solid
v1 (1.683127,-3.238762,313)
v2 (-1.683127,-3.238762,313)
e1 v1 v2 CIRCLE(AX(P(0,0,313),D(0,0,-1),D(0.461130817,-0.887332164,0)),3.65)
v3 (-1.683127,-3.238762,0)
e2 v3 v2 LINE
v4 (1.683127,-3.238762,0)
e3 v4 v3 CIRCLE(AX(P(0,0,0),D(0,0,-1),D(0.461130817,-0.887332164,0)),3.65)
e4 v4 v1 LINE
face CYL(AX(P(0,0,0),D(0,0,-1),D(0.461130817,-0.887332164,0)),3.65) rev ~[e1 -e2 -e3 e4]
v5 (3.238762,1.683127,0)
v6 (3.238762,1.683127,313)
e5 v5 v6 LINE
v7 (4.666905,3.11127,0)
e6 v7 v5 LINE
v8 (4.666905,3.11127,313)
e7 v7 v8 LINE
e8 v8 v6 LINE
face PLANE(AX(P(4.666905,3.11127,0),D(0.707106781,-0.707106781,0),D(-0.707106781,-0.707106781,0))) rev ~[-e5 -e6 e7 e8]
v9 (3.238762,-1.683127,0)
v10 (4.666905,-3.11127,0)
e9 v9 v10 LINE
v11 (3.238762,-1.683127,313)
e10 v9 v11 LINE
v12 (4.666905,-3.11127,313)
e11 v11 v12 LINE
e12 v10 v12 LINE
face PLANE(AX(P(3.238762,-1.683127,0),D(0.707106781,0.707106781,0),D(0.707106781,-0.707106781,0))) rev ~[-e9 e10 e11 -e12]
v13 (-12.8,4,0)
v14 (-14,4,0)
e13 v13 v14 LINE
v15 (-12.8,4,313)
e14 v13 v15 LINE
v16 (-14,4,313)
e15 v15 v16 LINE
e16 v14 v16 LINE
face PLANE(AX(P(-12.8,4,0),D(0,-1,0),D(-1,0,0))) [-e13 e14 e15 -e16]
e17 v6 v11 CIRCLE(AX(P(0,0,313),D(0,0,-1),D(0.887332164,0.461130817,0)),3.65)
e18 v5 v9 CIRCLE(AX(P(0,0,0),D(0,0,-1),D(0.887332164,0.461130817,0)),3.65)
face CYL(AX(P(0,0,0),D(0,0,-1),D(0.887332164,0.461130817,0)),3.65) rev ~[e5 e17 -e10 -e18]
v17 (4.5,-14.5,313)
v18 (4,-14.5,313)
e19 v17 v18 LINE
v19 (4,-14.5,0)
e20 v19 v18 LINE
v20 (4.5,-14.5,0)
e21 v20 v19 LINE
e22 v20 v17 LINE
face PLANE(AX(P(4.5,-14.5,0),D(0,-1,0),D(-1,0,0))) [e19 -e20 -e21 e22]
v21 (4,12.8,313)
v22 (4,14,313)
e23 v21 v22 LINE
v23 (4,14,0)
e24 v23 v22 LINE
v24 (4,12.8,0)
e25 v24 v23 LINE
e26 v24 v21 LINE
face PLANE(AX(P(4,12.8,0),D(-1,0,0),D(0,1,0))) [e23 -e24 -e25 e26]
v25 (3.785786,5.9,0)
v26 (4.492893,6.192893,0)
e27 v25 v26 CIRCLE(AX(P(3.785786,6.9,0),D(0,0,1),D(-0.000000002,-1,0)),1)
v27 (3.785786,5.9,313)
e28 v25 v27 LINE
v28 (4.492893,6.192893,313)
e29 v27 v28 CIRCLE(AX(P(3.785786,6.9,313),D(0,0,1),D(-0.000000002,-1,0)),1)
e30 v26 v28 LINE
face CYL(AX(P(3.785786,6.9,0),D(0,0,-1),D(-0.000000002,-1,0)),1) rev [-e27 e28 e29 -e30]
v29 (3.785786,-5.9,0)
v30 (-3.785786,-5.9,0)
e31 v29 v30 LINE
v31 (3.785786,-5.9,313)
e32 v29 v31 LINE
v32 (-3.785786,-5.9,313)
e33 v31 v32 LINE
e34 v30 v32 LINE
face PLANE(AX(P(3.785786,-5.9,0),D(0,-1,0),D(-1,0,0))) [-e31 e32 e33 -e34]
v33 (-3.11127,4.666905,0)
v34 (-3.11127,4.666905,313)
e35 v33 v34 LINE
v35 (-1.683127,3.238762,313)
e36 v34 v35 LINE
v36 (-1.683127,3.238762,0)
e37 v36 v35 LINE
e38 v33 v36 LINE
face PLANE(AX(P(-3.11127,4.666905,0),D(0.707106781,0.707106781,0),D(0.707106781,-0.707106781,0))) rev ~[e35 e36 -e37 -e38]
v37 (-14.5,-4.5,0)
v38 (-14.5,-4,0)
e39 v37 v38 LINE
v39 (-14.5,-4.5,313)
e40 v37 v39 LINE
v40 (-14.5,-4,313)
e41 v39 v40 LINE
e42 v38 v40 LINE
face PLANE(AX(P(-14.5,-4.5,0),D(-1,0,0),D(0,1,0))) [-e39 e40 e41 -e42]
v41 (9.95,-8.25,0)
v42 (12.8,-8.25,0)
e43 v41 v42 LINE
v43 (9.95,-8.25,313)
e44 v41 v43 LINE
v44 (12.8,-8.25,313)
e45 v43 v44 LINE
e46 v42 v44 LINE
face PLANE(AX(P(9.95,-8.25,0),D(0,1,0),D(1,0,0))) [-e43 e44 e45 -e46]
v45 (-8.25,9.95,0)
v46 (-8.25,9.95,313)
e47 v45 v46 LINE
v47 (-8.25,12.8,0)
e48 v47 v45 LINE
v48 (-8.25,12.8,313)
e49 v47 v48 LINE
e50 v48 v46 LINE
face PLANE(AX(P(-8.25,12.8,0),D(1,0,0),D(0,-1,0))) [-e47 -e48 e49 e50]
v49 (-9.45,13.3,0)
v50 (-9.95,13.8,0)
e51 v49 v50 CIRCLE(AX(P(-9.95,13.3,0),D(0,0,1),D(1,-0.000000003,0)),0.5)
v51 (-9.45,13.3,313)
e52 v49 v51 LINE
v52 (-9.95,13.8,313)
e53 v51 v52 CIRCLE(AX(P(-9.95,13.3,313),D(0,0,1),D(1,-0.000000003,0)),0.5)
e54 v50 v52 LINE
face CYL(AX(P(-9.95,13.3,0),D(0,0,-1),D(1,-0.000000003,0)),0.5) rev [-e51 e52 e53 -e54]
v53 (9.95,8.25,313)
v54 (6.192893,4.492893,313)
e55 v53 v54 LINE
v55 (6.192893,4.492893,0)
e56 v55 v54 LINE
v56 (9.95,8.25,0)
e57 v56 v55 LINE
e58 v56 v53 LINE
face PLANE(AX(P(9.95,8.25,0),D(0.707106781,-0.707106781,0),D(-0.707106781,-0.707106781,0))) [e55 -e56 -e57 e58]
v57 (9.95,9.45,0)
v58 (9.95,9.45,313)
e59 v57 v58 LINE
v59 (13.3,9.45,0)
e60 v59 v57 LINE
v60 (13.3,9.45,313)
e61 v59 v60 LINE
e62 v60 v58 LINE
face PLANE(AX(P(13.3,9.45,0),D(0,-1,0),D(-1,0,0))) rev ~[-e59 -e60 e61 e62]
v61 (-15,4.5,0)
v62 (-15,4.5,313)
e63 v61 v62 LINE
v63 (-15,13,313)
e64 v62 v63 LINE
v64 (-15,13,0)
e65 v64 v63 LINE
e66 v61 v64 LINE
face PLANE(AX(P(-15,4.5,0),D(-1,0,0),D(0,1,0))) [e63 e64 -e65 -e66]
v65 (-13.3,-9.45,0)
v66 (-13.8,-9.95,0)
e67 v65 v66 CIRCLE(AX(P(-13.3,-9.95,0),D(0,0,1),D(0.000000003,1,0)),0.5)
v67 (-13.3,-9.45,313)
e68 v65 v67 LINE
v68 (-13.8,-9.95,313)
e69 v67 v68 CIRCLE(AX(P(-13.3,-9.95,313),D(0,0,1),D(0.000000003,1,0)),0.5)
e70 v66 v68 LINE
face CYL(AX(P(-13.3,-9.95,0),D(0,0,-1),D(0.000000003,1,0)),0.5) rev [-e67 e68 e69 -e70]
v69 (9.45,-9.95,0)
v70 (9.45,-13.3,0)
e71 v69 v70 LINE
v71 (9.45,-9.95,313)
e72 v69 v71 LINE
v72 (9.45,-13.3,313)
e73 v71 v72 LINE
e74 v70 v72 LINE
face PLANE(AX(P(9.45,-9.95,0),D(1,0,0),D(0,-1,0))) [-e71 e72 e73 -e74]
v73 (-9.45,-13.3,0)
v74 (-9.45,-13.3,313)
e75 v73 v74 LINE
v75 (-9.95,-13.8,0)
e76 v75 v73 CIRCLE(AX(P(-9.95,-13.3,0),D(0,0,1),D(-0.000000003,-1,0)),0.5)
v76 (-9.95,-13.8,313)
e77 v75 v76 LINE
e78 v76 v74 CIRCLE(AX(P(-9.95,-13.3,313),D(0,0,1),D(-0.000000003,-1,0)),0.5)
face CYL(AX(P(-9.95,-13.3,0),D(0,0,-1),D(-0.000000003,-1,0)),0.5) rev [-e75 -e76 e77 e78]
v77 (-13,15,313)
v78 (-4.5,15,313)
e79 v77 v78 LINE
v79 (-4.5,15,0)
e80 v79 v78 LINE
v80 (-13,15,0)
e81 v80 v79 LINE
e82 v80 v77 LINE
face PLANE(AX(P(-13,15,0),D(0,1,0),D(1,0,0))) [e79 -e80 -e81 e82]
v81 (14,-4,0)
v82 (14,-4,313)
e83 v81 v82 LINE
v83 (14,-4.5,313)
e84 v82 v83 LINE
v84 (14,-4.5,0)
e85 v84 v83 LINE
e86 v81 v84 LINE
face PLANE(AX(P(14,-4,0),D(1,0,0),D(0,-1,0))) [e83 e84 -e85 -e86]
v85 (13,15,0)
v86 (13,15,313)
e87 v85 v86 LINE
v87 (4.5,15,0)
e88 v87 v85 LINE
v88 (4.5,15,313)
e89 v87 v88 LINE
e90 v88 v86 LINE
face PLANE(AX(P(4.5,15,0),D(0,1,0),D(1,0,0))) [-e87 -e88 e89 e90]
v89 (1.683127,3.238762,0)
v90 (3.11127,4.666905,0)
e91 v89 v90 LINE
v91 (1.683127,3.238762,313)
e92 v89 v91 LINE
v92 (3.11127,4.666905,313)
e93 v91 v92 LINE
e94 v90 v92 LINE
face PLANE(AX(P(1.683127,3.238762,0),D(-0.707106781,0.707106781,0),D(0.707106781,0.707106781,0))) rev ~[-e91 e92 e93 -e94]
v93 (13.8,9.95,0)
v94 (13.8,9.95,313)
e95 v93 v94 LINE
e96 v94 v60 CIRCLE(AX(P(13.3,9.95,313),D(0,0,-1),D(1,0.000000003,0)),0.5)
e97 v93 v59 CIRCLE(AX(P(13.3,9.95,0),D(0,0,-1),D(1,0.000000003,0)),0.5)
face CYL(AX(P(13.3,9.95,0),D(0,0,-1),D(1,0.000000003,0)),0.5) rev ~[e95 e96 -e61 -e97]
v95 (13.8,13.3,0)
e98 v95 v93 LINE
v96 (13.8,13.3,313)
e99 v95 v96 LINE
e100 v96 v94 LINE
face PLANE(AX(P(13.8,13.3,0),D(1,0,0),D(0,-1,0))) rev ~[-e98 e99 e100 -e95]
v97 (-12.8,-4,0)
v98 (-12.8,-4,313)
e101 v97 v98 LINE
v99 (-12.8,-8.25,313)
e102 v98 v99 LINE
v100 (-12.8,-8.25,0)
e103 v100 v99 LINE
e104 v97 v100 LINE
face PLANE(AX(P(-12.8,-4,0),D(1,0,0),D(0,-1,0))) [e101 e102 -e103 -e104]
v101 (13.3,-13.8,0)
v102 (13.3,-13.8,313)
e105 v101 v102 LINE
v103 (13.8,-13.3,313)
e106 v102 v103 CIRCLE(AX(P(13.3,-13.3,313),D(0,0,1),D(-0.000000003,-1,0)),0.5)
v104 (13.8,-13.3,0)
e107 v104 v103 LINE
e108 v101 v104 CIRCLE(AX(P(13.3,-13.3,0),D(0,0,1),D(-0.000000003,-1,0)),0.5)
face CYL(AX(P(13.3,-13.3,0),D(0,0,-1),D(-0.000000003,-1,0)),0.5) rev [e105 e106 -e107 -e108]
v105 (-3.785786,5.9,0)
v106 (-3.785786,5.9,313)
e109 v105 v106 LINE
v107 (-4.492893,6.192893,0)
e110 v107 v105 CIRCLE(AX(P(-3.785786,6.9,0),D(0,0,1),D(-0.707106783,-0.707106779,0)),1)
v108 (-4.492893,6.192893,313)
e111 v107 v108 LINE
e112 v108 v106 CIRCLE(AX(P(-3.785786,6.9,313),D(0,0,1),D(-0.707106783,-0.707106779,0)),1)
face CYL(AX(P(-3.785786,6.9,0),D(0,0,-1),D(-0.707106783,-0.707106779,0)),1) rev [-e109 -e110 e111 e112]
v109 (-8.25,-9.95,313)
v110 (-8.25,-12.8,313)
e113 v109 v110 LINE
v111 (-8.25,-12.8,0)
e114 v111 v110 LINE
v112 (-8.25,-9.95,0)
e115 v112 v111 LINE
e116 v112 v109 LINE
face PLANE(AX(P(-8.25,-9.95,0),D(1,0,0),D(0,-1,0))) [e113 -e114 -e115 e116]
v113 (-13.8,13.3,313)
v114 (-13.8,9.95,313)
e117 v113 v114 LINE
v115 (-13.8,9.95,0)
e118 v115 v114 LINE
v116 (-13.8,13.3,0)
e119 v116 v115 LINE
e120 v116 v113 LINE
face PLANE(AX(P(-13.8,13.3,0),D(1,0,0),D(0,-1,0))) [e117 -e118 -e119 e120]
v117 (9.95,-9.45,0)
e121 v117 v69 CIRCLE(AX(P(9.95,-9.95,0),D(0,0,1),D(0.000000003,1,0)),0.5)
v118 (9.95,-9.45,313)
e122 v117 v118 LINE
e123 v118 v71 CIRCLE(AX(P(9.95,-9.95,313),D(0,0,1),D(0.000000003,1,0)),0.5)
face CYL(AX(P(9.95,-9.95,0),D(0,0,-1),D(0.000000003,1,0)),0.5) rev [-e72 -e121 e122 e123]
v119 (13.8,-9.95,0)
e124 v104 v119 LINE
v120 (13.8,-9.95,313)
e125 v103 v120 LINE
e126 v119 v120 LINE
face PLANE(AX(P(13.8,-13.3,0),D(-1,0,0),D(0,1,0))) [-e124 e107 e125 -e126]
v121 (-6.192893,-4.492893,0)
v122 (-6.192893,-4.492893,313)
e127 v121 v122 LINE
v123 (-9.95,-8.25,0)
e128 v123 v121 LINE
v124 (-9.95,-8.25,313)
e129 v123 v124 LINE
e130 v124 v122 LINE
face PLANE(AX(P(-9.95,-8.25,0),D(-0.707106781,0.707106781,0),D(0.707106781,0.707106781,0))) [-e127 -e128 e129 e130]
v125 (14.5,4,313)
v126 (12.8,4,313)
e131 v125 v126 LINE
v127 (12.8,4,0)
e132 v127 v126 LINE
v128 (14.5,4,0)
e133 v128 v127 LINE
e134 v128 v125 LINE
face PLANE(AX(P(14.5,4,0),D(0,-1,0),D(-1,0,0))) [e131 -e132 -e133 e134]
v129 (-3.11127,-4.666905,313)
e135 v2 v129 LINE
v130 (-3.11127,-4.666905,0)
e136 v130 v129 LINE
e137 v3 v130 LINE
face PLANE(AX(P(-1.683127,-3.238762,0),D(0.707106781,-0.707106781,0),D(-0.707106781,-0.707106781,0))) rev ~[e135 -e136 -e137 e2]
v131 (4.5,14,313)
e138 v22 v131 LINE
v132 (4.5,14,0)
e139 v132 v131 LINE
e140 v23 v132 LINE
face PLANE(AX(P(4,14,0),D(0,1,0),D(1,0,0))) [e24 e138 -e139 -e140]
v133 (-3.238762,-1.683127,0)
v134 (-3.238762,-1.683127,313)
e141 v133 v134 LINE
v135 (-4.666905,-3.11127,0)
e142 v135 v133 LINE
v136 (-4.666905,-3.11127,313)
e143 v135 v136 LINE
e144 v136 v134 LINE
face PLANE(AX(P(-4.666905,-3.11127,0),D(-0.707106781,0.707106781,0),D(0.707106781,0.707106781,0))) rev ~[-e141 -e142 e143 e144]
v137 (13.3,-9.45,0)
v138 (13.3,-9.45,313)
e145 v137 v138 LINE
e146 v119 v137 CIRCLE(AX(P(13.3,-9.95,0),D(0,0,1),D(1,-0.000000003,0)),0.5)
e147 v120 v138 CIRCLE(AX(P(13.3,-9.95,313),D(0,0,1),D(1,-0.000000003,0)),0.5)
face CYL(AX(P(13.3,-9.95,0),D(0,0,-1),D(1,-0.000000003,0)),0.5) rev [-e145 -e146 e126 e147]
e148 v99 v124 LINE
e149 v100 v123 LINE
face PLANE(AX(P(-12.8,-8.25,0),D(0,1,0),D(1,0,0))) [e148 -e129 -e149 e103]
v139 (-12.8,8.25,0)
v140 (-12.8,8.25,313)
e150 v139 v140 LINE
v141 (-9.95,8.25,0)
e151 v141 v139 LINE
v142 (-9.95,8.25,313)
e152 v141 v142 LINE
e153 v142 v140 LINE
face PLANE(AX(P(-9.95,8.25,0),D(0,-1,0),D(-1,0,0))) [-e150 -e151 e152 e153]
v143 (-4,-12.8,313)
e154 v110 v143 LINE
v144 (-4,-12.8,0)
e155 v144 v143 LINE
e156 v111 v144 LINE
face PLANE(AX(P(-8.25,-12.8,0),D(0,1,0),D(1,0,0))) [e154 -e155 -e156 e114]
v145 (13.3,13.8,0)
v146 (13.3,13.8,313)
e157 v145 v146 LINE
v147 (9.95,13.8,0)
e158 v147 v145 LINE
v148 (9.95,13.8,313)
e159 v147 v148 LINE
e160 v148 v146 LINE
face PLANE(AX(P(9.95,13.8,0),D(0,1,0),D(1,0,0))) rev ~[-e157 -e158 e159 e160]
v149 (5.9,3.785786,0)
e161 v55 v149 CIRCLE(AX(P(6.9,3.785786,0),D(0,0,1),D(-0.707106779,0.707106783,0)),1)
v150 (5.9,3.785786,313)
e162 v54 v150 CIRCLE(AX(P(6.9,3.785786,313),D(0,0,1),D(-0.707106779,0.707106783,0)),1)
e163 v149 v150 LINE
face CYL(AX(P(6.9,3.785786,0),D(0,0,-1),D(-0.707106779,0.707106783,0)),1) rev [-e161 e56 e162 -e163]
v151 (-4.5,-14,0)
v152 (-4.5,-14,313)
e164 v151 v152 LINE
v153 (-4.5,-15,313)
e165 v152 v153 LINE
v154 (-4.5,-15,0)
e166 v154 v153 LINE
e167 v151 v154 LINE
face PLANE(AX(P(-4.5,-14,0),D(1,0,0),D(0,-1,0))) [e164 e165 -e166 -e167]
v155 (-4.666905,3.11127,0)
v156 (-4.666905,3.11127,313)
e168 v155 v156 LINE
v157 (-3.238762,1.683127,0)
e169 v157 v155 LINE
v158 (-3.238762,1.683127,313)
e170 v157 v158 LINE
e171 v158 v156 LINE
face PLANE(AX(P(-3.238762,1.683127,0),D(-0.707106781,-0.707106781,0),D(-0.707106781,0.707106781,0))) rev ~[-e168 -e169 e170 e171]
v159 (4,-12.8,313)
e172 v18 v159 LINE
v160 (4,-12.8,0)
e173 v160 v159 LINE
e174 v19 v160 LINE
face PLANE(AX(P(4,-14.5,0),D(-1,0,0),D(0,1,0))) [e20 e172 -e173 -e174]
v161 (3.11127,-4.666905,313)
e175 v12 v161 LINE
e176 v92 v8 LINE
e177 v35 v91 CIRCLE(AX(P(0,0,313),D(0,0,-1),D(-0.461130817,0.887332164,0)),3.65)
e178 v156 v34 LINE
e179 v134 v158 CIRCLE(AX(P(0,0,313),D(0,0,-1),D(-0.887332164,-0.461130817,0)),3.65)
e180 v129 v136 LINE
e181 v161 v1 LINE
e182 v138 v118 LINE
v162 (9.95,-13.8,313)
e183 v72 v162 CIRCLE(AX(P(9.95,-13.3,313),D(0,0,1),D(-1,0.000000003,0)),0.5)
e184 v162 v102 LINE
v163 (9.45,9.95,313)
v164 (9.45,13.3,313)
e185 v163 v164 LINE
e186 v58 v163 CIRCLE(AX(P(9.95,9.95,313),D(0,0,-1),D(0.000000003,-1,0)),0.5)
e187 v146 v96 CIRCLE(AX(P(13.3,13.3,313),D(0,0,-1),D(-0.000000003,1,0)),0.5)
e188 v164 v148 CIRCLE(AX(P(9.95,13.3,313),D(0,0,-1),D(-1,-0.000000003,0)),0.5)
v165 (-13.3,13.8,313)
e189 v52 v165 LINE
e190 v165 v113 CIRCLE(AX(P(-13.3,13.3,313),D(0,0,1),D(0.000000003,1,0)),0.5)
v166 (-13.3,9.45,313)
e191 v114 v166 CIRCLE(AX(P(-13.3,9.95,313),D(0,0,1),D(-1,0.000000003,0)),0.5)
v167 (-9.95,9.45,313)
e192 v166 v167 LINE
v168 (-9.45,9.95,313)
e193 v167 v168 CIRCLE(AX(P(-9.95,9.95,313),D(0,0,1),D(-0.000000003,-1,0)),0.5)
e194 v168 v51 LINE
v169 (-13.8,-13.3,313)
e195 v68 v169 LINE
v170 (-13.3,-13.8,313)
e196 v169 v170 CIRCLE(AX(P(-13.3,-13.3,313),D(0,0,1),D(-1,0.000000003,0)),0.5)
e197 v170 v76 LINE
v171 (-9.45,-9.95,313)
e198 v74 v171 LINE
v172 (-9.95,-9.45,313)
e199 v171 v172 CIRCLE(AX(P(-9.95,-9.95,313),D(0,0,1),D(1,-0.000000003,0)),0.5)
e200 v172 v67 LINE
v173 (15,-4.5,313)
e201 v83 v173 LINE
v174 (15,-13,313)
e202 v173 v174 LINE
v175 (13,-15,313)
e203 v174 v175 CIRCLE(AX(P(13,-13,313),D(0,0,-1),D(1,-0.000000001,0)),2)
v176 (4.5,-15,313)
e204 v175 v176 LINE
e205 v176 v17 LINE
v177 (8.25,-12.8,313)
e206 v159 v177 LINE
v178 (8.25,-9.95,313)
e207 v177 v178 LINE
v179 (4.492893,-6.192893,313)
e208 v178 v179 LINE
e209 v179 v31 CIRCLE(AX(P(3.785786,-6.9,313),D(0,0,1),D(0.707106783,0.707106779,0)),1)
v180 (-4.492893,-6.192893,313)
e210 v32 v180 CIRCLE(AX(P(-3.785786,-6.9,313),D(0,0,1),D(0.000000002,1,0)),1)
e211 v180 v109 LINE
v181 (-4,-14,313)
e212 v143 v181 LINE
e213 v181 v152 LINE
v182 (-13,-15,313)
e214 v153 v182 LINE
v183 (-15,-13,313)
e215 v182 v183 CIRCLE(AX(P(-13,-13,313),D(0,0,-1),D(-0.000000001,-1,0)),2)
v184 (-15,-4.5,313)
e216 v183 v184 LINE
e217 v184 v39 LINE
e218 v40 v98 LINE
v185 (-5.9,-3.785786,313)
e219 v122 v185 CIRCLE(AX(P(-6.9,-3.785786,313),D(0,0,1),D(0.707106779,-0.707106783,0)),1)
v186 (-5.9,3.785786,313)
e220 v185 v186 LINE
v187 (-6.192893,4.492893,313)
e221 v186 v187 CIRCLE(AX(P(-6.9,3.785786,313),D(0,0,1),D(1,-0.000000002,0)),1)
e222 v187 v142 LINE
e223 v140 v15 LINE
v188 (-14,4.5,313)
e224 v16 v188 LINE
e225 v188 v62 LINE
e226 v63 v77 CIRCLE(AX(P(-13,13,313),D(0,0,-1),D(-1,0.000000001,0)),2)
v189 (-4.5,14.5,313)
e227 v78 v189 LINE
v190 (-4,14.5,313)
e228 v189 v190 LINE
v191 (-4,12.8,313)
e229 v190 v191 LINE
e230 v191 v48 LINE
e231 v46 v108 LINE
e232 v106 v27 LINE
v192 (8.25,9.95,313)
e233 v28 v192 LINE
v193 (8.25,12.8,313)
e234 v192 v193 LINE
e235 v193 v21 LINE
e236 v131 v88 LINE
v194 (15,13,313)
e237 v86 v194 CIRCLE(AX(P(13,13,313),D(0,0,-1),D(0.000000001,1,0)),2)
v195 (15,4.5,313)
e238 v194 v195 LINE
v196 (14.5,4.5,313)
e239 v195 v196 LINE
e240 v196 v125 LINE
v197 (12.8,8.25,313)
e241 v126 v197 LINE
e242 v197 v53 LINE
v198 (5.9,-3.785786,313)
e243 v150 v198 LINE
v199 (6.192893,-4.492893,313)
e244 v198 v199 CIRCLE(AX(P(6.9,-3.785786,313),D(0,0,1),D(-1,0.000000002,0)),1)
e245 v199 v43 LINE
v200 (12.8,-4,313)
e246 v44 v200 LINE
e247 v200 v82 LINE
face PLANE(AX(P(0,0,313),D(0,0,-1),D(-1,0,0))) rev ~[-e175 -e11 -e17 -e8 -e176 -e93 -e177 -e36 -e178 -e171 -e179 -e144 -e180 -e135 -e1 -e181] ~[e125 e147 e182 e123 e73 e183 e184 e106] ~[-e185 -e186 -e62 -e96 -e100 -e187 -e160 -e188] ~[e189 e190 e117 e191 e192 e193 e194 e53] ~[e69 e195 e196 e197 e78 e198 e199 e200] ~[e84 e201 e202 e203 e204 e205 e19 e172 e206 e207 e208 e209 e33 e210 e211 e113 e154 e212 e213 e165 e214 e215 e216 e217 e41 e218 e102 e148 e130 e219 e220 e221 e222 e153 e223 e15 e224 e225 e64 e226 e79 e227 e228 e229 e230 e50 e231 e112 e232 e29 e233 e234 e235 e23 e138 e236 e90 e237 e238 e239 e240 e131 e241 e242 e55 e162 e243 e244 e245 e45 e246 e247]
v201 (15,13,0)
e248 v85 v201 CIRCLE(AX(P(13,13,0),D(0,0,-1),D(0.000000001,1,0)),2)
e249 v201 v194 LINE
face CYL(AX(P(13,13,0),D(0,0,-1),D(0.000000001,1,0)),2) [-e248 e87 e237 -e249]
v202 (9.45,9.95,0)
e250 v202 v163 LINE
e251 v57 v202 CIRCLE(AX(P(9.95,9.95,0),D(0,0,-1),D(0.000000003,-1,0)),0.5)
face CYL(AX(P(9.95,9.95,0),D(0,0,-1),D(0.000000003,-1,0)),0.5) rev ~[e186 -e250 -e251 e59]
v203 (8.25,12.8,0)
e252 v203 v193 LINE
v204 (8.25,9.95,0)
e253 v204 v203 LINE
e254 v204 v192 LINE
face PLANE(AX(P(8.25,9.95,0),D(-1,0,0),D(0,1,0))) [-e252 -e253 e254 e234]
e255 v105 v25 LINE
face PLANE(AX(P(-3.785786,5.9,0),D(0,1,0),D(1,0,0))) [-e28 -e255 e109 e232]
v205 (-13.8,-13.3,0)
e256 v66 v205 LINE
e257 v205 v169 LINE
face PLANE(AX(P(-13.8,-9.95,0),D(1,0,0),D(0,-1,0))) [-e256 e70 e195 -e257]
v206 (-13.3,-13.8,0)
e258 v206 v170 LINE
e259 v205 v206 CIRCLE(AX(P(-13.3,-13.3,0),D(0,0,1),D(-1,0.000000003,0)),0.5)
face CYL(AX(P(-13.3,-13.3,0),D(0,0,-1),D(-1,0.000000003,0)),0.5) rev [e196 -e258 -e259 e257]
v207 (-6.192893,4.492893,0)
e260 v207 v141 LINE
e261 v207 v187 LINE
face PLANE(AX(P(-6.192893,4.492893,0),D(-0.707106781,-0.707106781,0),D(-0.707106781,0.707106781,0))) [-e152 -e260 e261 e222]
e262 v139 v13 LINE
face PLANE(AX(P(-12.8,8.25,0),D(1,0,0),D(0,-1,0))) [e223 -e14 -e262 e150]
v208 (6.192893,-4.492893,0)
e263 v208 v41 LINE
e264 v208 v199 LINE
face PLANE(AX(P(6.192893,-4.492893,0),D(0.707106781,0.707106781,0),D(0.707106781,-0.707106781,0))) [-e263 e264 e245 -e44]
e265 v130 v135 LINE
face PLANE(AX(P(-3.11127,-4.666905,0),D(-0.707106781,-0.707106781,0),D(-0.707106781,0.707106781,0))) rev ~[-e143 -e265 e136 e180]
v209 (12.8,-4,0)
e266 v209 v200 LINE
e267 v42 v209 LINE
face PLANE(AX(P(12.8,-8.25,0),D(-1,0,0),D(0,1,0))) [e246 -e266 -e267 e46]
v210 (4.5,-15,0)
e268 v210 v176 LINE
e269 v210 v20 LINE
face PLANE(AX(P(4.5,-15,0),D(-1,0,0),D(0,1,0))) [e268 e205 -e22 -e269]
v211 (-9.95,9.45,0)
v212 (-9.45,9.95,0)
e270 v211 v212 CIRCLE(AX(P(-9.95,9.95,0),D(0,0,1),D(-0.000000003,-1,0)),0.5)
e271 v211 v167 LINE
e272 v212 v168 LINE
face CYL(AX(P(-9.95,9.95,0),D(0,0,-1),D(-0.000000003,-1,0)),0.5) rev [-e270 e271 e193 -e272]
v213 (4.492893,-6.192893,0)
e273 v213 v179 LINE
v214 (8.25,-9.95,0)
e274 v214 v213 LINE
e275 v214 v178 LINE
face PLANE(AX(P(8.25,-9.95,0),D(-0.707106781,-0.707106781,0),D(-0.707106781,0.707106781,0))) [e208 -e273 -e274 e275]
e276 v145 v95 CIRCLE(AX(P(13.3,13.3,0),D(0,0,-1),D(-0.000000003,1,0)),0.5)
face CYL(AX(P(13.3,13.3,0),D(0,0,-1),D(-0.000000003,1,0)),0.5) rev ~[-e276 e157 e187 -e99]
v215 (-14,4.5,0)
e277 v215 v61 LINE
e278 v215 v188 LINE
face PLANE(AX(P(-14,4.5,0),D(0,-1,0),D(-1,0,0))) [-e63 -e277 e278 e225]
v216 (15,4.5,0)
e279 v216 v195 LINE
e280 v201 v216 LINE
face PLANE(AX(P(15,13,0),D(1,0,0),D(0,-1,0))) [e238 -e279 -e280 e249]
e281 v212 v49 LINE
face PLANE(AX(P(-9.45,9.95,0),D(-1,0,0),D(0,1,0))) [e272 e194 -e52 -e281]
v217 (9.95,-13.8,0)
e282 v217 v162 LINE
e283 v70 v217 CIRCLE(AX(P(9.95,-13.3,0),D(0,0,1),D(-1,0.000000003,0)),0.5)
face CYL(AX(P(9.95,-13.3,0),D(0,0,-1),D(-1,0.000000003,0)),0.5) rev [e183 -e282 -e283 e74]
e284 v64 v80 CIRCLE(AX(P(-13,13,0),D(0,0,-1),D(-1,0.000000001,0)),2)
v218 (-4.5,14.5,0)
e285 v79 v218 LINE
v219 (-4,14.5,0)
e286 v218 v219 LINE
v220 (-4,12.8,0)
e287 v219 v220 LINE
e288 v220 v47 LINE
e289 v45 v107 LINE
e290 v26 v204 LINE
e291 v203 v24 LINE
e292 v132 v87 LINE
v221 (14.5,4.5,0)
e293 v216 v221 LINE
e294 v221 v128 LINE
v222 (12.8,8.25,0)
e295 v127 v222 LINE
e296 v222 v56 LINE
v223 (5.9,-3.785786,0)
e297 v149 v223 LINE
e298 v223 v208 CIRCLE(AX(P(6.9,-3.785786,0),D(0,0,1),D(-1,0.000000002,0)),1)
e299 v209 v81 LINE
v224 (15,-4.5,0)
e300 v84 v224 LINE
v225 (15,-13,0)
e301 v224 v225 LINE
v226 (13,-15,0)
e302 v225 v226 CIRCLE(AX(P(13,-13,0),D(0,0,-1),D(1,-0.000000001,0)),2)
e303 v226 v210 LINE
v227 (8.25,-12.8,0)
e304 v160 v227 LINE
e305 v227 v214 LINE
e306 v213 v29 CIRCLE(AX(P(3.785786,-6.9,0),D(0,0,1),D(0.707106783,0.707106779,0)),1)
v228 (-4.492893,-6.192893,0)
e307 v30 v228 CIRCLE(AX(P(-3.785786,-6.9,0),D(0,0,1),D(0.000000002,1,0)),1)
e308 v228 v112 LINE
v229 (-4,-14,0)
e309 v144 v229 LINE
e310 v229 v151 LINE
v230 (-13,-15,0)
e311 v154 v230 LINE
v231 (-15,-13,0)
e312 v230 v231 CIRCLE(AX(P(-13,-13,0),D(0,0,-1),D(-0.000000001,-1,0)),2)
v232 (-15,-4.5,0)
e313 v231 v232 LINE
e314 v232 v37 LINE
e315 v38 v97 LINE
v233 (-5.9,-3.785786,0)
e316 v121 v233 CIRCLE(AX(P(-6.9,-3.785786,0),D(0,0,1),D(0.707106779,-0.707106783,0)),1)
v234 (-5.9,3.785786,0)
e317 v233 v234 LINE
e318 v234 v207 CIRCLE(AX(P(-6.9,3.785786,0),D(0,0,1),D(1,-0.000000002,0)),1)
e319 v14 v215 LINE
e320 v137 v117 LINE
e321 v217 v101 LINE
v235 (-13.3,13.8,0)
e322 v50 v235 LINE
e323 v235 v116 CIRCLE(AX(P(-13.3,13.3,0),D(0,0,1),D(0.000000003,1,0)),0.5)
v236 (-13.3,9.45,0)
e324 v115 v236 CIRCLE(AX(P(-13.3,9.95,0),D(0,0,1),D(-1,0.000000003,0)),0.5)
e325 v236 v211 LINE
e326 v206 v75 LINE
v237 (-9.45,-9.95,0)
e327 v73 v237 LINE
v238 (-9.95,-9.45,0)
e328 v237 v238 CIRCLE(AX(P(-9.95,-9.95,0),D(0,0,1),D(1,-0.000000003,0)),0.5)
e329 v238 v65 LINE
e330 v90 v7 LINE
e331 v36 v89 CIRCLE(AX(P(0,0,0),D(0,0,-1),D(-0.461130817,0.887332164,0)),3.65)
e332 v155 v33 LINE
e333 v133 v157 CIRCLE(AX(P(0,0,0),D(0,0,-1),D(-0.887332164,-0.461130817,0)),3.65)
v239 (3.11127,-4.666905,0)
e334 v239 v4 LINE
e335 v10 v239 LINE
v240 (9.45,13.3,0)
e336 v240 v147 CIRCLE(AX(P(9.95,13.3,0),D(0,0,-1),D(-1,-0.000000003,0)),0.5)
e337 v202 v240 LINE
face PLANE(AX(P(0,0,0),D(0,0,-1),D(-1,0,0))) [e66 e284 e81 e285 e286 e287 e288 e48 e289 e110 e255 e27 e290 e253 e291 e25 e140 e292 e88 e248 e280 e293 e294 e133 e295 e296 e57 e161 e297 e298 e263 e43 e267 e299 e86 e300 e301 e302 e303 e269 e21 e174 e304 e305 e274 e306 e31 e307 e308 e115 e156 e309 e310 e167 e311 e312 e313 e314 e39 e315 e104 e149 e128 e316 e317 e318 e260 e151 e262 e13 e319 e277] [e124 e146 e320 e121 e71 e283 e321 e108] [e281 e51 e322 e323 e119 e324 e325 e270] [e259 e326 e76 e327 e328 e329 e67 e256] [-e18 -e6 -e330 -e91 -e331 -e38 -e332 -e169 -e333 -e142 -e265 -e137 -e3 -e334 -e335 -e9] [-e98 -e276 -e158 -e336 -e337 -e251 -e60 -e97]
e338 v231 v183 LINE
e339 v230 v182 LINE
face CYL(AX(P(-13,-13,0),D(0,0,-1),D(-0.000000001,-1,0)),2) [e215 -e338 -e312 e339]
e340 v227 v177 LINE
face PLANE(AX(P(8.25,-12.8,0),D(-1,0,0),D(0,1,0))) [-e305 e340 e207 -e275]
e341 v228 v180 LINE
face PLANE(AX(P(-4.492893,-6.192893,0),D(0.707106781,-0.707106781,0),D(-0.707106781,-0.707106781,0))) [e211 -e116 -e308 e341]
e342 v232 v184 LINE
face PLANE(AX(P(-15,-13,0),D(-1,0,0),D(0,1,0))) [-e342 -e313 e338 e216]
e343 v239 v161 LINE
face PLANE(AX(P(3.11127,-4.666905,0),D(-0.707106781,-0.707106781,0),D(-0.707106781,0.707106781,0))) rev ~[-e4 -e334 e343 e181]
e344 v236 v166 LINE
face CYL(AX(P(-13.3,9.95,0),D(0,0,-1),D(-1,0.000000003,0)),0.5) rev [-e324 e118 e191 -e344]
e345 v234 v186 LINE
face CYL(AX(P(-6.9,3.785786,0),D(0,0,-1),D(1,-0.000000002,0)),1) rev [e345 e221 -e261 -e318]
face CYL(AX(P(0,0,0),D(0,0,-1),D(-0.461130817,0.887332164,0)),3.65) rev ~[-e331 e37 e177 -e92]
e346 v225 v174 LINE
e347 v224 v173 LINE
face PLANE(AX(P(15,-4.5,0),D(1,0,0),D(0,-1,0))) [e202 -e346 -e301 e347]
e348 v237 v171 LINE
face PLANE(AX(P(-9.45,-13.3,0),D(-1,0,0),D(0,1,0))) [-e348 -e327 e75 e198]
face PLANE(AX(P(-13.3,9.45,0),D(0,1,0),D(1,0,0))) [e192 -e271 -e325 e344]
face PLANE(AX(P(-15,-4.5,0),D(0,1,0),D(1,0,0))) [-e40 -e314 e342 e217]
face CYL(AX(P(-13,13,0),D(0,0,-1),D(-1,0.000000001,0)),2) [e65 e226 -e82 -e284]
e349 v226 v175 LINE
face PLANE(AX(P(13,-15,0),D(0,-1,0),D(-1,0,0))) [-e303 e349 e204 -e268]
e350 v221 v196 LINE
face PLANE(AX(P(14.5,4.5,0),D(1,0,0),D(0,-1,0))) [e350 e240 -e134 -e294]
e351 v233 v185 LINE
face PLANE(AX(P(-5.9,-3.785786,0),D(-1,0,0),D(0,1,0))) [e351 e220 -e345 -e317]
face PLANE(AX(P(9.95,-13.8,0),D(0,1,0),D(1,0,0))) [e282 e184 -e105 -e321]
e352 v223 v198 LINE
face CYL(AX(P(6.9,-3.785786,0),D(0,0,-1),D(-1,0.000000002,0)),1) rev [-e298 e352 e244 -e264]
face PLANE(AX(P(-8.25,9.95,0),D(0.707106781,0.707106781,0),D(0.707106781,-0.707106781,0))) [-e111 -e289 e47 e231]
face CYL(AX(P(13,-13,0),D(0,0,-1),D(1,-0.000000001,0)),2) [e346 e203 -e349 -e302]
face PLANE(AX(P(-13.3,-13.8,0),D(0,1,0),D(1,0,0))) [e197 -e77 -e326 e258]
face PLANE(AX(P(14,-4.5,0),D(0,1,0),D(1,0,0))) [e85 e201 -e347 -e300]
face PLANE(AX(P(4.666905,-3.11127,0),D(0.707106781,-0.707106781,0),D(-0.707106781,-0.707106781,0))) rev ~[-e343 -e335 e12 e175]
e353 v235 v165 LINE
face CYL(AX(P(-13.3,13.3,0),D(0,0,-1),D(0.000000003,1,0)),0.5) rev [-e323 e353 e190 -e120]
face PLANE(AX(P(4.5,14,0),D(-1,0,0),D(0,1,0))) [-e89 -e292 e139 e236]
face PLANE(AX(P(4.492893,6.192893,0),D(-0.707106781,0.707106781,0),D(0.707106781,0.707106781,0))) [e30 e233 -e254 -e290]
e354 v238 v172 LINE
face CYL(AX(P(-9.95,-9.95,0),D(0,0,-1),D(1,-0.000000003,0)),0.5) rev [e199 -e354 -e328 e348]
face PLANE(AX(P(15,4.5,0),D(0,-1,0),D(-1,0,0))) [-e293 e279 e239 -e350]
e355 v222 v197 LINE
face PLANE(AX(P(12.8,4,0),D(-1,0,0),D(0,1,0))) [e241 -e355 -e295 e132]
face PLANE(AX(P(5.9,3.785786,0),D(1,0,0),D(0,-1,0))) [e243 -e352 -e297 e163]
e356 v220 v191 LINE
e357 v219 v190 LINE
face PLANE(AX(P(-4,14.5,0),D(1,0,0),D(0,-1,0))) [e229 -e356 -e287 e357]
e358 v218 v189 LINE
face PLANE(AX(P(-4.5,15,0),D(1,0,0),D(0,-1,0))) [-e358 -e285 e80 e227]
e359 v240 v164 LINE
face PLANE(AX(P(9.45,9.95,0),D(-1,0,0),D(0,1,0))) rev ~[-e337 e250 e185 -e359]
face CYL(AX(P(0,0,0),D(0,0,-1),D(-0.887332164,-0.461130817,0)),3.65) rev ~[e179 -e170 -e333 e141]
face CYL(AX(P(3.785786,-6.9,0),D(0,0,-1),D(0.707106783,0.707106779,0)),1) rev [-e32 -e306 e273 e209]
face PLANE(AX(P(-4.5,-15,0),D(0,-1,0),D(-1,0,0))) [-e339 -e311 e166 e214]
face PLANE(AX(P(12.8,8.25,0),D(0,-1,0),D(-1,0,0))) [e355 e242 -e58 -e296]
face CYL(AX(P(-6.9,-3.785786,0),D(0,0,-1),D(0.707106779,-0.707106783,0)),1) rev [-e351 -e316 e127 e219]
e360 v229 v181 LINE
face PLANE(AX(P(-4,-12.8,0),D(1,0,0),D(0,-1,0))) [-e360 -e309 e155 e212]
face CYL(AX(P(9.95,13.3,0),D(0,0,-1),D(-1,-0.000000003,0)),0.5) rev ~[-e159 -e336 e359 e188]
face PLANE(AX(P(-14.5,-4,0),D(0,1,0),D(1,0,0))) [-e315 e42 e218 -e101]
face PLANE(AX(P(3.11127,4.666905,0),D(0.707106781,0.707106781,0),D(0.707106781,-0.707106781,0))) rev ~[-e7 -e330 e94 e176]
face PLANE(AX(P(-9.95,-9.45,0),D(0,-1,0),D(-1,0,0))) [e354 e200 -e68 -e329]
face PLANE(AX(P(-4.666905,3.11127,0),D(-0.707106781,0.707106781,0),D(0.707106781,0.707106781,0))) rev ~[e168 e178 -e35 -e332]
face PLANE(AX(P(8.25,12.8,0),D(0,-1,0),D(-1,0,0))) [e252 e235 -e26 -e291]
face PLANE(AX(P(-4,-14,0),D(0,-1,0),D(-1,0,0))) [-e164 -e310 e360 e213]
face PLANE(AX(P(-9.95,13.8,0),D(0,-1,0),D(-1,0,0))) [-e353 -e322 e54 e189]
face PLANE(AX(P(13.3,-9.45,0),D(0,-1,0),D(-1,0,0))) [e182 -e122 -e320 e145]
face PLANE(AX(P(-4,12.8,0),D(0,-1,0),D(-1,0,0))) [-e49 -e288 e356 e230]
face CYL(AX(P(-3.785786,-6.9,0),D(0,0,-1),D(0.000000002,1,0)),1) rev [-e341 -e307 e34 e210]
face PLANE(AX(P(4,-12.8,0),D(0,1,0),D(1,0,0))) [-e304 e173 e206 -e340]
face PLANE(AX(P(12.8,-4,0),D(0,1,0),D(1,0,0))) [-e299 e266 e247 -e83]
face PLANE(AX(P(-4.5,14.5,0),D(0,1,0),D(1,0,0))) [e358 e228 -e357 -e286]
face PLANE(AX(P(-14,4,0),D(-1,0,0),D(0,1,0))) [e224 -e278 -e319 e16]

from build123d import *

# Parameters (mm, degrees)
BOSS_EXTRUDE1_DEPTH = 313


with BuildPart() as part:
    # Sketch1 → Boss-Extrude1 (new body)
    with BuildSketch(Plane.XY):
        with BuildLine():
            Line((-4.5, 14.5), (-4.5, 15))
            Line((-4.5, 15), (-13, 15))
            ThreePointArc((-13, 15), (-14.414213562, 14.414213562), (-15, 13))
            Line((-15, 13), (-15, 4.5))
            Line((-15, 4.5), (-14, 4.5))
            Line((-14, 4.5), (-14, 4))
            Line((-14, 4), (-12.8, 4))
            Line((-12.8, 4), (-12.8, 8.25))
            Line((-12.8, 8.25), (-9.95, 8.25))
            Line((-9.95, 8.25), (-6.192893219, 4.492893219))
            ThreePointArc((-6.192893219, 4.492893219), (-5.976120467, 4.16846987), (-5.9, 3.785786438))
            Line((-5.9, 3.785786438), (-5.9, -3.785786438))
            ThreePointArc((-5.9, -3.785786438), (-5.976120467, -4.16846987), (-6.192893219, -4.492893219))
            Line((-6.192893219, -4.492893219), (-9.95, -8.25))
            Line((-9.95, -8.25), (-12.8, -8.25))
            Line((-12.8, -8.25), (-12.8, -4))
            Line((-12.8, -4), (-14.5, -4))
            Line((-14.5, -4), (-14.5, -4.5))
            Line((-14.5, -4.5), (-15, -4.5))
            Line((-15, -4.5), (-15, -13))
            ThreePointArc((-15, -13), (-14.414213562, -14.414213562), (-13, -15))
            Line((-13, -15), (-4.5, -15))
            Line((-4.5, -15), (-4.5, -14))
            Line((-4.5, -14), (-4, -14))
            Line((-4, -14), (-4, -12.8))
            Line((-4, -12.8), (-8.25, -12.8))
            Line((-8.25, -12.8), (-8.25, -9.95))
            Line((-8.25, -9.95), (-4.492893219, -6.192893219))
            ThreePointArc((-4.492893219, -6.192893219), (-4.16846987, -5.976120467), (-3.785786438, -5.9))
            Line((-3.785786438, -5.9), (3.785786438, -5.9))
            ThreePointArc((3.785786438, -5.9), (4.16846987, -5.976120467), (4.492893219, -6.192893219))
            Line((4.492893219, -6.192893219), (8.25, -9.95))
            Line((8.25, -9.95), (8.25, -12.8))
            Line((8.25, -12.8), (4, -12.8))
            Line((4, -12.8), (4, -14.5))
            Line((4, -14.5), (4.5, -14.5))
            Line((4.5, -14.5), (4.5, -15))
            Line((4.5, -15), (13, -15))
            ThreePointArc((13, -15), (14.414213562, -14.414213562), (15, -13))
            Line((15, -13), (15, -4.5))
            Line((15, -4.5), (14, -4.5))
            Line((14, -4.5), (14, -4))
            Line((14, -4), (12.8, -4))
            Line((12.8, -4), (12.8, -8.25))
            Line((12.8, -8.25), (9.95, -8.25))
            Line((9.95, -8.25), (6.192893219, -4.492893219))
            ThreePointArc((6.192893219, -4.492893219), (5.976120467, -4.16846987), (5.9, -3.785786438))
            Line((5.9, -3.785786438), (5.9, 3.785786438))
            ThreePointArc((5.9, 3.785786438), (5.976120467, 4.16846987), (6.192893219, 4.492893219))
            Line((6.192893219, 4.492893219), (9.95, 8.25))
            Line((9.95, 8.25), (12.8, 8.25))
            Line((12.8, 8.25), (12.8, 4))
            Line((12.8, 4), (14.5, 4))
            Line((14.5, 4), (14.5, 4.5))
            Line((14.5, 4.5), (15, 4.5))
            Line((15, 4.5), (15, 13))
            ThreePointArc((15, 13), (14.414213562, 14.414213562), (13, 15))
            Line((13, 15), (4.5, 15))
            Line((4.5, 15), (4.5, 14))
            Line((4.5, 14), (4, 14))
            Line((4, 14), (4, 12.8))
            Line((4, 12.8), (8.25, 12.8))
            Line((8.25, 12.8), (8.25, 9.95))
            Line((8.25, 9.95), (4.492893219, 6.192893219))
            ThreePointArc((4.492893219, 6.192893219), (4.16846987, 5.976120467), (3.785786438, 5.9))
            Line((3.785786438, 5.9), (-3.785786438, 5.9))
            ThreePointArc((-3.785786438, 5.9), (-4.16846987, 5.976120467), (-4.492893219, 6.192893219))
            Line((-4.492893219, 6.192893219), (-8.25, 9.95))
            Line((-8.25, 9.95), (-8.25, 12.8))
            Line((-8.25, 12.8), (-4, 12.8))
            Line((-4, 12.8), (-4, 14.5))
            Line((-4, 14.5), (-4.5, 14.5))
        make_face()
        with BuildLine():
            Line((-9.45, -9.95), (-9.45, -13.3))
            ThreePointArc((-9.45, -13.3), (-9.596446609, -13.653553391), (-9.95, -13.8))
            Line((-9.95, -13.8), (-13.3, -13.8))
            ThreePointArc((-13.3, -13.8), (-13.653553391, -13.653553391), (-13.8, -13.3))
            Line((-13.8, -13.3), (-13.8, -9.95))
            ThreePointArc((-13.8, -9.95), (-13.653553391, -9.596446609), (-13.3, -9.45))
            Line((-13.3, -9.45), (-9.95, -9.45))
            ThreePointArc((-9.95, -9.45), (-9.596446609, -9.596446609), (-9.45, -9.95))
        make_face(mode=Mode.SUBTRACT)
        with BuildLine():
            Line((9.95, -9.45), (13.3, -9.45))
            ThreePointArc((13.3, -9.45), (13.653553391, -9.596446609), (13.8, -9.95))
            Line((13.8, -9.95), (13.8, -13.3))
            ThreePointArc((13.8, -13.3), (13.653553391, -13.653553391), (13.3, -13.8))
            Line((13.3, -13.8), (9.95, -13.8))
            ThreePointArc((9.95, -13.8), (9.596446609, -13.653553391), (9.45, -13.3))
            Line((9.45, -13.3), (9.45, -9.95))
            ThreePointArc((9.45, -9.95), (9.596446609, -9.596446609), (9.95, -9.45))
        make_face(mode=Mode.SUBTRACT)
        with BuildLine():
            Line((-9.95, 9.45), (-13.3, 9.45))
            ThreePointArc((-13.3, 9.45), (-13.653553391, 9.596446609), (-13.8, 9.95))
            Line((-13.8, 9.95), (-13.8, 13.3))
            ThreePointArc((-13.8, 13.3), (-13.653553391, 13.653553391), (-13.3, 13.8))
            Line((-13.3, 13.8), (-9.95, 13.8))
            ThreePointArc((-9.95, 13.8), (-9.596446609, 13.653553391), (-9.45, 13.3))
            Line((-9.45, 13.3), (-9.45, 9.95))
            ThreePointArc((-9.45, 9.95), (-9.596446609, 9.596446609), (-9.95, 9.45))
        make_face(mode=Mode.SUBTRACT)
        with BuildLine():
            ThreePointArc((1.683127481, -3.2387624), (0, -3.65), (-1.683127481, -3.2387624))
            Line((-1.683127481, -3.2387624), (-3.111269837, -4.666904756))
            Line((-3.111269837, -4.666904756), (-4.666904756, -3.111269837))
            Line((-4.666904756, -3.111269837), (-3.2387624, -1.683127481))
            ThreePointArc((-3.2387624, -1.683127481), (-3.65, 0), (-3.2387624, 1.683127481))
            Line((-3.2387624, 1.683127481), (-4.666904756, 3.111269837))
            Line((-4.666904756, 3.111269837), (-3.111269837, 4.666904756))
            Line((-3.111269837, 4.666904756), (-1.683127481, 3.2387624))
            ThreePointArc((-1.683127481, 3.2387624), (0, 3.65), (1.683127481, 3.2387624))
            Line((1.683127481, 3.2387624), (3.111269837, 4.666904756))
            Line((3.111269837, 4.666904756), (4.666904756, 3.111269837))
            Line((4.666904756, 3.111269837), (3.2387624, 1.683127481))
            ThreePointArc((3.2387624, 1.683127481), (3.65, 0), (3.2387624, -1.683127481))
            Line((3.2387624, -1.683127481), (4.666904756, -3.111269837))
            Line((4.666904756, -3.111269837), (3.111269837, -4.666904756))
            Line((3.111269837, -4.666904756), (1.683127481, -3.2387624))
        make_face(mode=Mode.SUBTRACT)
        with BuildLine():
            ThreePointArc((9.45, 13.3), (9.596446609, 13.653553391), (9.95, 13.8))
            Line((9.95, 13.8), (13.3, 13.8))
            ThreePointArc((13.3, 13.8), (13.653553391, 13.653553391), (13.8, 13.3))
            Line((13.8, 13.3), (13.8, 9.95))
            ThreePointArc((13.8, 9.95), (13.653553391, 9.596446609), (13.3, 9.45))
            Line((13.3, 9.45), (9.95, 9.45))
            ThreePointArc((9.95, 9.45), (9.596446609, 9.596446609), (9.45, 9.95))
            Line((9.45, 9.95), (9.45, 13.3))
        make_face(mode=Mode.SUBTRACT)
    extrude(amount=BOSS_EXTRUDE1_DEPTH)


solid = part.part
